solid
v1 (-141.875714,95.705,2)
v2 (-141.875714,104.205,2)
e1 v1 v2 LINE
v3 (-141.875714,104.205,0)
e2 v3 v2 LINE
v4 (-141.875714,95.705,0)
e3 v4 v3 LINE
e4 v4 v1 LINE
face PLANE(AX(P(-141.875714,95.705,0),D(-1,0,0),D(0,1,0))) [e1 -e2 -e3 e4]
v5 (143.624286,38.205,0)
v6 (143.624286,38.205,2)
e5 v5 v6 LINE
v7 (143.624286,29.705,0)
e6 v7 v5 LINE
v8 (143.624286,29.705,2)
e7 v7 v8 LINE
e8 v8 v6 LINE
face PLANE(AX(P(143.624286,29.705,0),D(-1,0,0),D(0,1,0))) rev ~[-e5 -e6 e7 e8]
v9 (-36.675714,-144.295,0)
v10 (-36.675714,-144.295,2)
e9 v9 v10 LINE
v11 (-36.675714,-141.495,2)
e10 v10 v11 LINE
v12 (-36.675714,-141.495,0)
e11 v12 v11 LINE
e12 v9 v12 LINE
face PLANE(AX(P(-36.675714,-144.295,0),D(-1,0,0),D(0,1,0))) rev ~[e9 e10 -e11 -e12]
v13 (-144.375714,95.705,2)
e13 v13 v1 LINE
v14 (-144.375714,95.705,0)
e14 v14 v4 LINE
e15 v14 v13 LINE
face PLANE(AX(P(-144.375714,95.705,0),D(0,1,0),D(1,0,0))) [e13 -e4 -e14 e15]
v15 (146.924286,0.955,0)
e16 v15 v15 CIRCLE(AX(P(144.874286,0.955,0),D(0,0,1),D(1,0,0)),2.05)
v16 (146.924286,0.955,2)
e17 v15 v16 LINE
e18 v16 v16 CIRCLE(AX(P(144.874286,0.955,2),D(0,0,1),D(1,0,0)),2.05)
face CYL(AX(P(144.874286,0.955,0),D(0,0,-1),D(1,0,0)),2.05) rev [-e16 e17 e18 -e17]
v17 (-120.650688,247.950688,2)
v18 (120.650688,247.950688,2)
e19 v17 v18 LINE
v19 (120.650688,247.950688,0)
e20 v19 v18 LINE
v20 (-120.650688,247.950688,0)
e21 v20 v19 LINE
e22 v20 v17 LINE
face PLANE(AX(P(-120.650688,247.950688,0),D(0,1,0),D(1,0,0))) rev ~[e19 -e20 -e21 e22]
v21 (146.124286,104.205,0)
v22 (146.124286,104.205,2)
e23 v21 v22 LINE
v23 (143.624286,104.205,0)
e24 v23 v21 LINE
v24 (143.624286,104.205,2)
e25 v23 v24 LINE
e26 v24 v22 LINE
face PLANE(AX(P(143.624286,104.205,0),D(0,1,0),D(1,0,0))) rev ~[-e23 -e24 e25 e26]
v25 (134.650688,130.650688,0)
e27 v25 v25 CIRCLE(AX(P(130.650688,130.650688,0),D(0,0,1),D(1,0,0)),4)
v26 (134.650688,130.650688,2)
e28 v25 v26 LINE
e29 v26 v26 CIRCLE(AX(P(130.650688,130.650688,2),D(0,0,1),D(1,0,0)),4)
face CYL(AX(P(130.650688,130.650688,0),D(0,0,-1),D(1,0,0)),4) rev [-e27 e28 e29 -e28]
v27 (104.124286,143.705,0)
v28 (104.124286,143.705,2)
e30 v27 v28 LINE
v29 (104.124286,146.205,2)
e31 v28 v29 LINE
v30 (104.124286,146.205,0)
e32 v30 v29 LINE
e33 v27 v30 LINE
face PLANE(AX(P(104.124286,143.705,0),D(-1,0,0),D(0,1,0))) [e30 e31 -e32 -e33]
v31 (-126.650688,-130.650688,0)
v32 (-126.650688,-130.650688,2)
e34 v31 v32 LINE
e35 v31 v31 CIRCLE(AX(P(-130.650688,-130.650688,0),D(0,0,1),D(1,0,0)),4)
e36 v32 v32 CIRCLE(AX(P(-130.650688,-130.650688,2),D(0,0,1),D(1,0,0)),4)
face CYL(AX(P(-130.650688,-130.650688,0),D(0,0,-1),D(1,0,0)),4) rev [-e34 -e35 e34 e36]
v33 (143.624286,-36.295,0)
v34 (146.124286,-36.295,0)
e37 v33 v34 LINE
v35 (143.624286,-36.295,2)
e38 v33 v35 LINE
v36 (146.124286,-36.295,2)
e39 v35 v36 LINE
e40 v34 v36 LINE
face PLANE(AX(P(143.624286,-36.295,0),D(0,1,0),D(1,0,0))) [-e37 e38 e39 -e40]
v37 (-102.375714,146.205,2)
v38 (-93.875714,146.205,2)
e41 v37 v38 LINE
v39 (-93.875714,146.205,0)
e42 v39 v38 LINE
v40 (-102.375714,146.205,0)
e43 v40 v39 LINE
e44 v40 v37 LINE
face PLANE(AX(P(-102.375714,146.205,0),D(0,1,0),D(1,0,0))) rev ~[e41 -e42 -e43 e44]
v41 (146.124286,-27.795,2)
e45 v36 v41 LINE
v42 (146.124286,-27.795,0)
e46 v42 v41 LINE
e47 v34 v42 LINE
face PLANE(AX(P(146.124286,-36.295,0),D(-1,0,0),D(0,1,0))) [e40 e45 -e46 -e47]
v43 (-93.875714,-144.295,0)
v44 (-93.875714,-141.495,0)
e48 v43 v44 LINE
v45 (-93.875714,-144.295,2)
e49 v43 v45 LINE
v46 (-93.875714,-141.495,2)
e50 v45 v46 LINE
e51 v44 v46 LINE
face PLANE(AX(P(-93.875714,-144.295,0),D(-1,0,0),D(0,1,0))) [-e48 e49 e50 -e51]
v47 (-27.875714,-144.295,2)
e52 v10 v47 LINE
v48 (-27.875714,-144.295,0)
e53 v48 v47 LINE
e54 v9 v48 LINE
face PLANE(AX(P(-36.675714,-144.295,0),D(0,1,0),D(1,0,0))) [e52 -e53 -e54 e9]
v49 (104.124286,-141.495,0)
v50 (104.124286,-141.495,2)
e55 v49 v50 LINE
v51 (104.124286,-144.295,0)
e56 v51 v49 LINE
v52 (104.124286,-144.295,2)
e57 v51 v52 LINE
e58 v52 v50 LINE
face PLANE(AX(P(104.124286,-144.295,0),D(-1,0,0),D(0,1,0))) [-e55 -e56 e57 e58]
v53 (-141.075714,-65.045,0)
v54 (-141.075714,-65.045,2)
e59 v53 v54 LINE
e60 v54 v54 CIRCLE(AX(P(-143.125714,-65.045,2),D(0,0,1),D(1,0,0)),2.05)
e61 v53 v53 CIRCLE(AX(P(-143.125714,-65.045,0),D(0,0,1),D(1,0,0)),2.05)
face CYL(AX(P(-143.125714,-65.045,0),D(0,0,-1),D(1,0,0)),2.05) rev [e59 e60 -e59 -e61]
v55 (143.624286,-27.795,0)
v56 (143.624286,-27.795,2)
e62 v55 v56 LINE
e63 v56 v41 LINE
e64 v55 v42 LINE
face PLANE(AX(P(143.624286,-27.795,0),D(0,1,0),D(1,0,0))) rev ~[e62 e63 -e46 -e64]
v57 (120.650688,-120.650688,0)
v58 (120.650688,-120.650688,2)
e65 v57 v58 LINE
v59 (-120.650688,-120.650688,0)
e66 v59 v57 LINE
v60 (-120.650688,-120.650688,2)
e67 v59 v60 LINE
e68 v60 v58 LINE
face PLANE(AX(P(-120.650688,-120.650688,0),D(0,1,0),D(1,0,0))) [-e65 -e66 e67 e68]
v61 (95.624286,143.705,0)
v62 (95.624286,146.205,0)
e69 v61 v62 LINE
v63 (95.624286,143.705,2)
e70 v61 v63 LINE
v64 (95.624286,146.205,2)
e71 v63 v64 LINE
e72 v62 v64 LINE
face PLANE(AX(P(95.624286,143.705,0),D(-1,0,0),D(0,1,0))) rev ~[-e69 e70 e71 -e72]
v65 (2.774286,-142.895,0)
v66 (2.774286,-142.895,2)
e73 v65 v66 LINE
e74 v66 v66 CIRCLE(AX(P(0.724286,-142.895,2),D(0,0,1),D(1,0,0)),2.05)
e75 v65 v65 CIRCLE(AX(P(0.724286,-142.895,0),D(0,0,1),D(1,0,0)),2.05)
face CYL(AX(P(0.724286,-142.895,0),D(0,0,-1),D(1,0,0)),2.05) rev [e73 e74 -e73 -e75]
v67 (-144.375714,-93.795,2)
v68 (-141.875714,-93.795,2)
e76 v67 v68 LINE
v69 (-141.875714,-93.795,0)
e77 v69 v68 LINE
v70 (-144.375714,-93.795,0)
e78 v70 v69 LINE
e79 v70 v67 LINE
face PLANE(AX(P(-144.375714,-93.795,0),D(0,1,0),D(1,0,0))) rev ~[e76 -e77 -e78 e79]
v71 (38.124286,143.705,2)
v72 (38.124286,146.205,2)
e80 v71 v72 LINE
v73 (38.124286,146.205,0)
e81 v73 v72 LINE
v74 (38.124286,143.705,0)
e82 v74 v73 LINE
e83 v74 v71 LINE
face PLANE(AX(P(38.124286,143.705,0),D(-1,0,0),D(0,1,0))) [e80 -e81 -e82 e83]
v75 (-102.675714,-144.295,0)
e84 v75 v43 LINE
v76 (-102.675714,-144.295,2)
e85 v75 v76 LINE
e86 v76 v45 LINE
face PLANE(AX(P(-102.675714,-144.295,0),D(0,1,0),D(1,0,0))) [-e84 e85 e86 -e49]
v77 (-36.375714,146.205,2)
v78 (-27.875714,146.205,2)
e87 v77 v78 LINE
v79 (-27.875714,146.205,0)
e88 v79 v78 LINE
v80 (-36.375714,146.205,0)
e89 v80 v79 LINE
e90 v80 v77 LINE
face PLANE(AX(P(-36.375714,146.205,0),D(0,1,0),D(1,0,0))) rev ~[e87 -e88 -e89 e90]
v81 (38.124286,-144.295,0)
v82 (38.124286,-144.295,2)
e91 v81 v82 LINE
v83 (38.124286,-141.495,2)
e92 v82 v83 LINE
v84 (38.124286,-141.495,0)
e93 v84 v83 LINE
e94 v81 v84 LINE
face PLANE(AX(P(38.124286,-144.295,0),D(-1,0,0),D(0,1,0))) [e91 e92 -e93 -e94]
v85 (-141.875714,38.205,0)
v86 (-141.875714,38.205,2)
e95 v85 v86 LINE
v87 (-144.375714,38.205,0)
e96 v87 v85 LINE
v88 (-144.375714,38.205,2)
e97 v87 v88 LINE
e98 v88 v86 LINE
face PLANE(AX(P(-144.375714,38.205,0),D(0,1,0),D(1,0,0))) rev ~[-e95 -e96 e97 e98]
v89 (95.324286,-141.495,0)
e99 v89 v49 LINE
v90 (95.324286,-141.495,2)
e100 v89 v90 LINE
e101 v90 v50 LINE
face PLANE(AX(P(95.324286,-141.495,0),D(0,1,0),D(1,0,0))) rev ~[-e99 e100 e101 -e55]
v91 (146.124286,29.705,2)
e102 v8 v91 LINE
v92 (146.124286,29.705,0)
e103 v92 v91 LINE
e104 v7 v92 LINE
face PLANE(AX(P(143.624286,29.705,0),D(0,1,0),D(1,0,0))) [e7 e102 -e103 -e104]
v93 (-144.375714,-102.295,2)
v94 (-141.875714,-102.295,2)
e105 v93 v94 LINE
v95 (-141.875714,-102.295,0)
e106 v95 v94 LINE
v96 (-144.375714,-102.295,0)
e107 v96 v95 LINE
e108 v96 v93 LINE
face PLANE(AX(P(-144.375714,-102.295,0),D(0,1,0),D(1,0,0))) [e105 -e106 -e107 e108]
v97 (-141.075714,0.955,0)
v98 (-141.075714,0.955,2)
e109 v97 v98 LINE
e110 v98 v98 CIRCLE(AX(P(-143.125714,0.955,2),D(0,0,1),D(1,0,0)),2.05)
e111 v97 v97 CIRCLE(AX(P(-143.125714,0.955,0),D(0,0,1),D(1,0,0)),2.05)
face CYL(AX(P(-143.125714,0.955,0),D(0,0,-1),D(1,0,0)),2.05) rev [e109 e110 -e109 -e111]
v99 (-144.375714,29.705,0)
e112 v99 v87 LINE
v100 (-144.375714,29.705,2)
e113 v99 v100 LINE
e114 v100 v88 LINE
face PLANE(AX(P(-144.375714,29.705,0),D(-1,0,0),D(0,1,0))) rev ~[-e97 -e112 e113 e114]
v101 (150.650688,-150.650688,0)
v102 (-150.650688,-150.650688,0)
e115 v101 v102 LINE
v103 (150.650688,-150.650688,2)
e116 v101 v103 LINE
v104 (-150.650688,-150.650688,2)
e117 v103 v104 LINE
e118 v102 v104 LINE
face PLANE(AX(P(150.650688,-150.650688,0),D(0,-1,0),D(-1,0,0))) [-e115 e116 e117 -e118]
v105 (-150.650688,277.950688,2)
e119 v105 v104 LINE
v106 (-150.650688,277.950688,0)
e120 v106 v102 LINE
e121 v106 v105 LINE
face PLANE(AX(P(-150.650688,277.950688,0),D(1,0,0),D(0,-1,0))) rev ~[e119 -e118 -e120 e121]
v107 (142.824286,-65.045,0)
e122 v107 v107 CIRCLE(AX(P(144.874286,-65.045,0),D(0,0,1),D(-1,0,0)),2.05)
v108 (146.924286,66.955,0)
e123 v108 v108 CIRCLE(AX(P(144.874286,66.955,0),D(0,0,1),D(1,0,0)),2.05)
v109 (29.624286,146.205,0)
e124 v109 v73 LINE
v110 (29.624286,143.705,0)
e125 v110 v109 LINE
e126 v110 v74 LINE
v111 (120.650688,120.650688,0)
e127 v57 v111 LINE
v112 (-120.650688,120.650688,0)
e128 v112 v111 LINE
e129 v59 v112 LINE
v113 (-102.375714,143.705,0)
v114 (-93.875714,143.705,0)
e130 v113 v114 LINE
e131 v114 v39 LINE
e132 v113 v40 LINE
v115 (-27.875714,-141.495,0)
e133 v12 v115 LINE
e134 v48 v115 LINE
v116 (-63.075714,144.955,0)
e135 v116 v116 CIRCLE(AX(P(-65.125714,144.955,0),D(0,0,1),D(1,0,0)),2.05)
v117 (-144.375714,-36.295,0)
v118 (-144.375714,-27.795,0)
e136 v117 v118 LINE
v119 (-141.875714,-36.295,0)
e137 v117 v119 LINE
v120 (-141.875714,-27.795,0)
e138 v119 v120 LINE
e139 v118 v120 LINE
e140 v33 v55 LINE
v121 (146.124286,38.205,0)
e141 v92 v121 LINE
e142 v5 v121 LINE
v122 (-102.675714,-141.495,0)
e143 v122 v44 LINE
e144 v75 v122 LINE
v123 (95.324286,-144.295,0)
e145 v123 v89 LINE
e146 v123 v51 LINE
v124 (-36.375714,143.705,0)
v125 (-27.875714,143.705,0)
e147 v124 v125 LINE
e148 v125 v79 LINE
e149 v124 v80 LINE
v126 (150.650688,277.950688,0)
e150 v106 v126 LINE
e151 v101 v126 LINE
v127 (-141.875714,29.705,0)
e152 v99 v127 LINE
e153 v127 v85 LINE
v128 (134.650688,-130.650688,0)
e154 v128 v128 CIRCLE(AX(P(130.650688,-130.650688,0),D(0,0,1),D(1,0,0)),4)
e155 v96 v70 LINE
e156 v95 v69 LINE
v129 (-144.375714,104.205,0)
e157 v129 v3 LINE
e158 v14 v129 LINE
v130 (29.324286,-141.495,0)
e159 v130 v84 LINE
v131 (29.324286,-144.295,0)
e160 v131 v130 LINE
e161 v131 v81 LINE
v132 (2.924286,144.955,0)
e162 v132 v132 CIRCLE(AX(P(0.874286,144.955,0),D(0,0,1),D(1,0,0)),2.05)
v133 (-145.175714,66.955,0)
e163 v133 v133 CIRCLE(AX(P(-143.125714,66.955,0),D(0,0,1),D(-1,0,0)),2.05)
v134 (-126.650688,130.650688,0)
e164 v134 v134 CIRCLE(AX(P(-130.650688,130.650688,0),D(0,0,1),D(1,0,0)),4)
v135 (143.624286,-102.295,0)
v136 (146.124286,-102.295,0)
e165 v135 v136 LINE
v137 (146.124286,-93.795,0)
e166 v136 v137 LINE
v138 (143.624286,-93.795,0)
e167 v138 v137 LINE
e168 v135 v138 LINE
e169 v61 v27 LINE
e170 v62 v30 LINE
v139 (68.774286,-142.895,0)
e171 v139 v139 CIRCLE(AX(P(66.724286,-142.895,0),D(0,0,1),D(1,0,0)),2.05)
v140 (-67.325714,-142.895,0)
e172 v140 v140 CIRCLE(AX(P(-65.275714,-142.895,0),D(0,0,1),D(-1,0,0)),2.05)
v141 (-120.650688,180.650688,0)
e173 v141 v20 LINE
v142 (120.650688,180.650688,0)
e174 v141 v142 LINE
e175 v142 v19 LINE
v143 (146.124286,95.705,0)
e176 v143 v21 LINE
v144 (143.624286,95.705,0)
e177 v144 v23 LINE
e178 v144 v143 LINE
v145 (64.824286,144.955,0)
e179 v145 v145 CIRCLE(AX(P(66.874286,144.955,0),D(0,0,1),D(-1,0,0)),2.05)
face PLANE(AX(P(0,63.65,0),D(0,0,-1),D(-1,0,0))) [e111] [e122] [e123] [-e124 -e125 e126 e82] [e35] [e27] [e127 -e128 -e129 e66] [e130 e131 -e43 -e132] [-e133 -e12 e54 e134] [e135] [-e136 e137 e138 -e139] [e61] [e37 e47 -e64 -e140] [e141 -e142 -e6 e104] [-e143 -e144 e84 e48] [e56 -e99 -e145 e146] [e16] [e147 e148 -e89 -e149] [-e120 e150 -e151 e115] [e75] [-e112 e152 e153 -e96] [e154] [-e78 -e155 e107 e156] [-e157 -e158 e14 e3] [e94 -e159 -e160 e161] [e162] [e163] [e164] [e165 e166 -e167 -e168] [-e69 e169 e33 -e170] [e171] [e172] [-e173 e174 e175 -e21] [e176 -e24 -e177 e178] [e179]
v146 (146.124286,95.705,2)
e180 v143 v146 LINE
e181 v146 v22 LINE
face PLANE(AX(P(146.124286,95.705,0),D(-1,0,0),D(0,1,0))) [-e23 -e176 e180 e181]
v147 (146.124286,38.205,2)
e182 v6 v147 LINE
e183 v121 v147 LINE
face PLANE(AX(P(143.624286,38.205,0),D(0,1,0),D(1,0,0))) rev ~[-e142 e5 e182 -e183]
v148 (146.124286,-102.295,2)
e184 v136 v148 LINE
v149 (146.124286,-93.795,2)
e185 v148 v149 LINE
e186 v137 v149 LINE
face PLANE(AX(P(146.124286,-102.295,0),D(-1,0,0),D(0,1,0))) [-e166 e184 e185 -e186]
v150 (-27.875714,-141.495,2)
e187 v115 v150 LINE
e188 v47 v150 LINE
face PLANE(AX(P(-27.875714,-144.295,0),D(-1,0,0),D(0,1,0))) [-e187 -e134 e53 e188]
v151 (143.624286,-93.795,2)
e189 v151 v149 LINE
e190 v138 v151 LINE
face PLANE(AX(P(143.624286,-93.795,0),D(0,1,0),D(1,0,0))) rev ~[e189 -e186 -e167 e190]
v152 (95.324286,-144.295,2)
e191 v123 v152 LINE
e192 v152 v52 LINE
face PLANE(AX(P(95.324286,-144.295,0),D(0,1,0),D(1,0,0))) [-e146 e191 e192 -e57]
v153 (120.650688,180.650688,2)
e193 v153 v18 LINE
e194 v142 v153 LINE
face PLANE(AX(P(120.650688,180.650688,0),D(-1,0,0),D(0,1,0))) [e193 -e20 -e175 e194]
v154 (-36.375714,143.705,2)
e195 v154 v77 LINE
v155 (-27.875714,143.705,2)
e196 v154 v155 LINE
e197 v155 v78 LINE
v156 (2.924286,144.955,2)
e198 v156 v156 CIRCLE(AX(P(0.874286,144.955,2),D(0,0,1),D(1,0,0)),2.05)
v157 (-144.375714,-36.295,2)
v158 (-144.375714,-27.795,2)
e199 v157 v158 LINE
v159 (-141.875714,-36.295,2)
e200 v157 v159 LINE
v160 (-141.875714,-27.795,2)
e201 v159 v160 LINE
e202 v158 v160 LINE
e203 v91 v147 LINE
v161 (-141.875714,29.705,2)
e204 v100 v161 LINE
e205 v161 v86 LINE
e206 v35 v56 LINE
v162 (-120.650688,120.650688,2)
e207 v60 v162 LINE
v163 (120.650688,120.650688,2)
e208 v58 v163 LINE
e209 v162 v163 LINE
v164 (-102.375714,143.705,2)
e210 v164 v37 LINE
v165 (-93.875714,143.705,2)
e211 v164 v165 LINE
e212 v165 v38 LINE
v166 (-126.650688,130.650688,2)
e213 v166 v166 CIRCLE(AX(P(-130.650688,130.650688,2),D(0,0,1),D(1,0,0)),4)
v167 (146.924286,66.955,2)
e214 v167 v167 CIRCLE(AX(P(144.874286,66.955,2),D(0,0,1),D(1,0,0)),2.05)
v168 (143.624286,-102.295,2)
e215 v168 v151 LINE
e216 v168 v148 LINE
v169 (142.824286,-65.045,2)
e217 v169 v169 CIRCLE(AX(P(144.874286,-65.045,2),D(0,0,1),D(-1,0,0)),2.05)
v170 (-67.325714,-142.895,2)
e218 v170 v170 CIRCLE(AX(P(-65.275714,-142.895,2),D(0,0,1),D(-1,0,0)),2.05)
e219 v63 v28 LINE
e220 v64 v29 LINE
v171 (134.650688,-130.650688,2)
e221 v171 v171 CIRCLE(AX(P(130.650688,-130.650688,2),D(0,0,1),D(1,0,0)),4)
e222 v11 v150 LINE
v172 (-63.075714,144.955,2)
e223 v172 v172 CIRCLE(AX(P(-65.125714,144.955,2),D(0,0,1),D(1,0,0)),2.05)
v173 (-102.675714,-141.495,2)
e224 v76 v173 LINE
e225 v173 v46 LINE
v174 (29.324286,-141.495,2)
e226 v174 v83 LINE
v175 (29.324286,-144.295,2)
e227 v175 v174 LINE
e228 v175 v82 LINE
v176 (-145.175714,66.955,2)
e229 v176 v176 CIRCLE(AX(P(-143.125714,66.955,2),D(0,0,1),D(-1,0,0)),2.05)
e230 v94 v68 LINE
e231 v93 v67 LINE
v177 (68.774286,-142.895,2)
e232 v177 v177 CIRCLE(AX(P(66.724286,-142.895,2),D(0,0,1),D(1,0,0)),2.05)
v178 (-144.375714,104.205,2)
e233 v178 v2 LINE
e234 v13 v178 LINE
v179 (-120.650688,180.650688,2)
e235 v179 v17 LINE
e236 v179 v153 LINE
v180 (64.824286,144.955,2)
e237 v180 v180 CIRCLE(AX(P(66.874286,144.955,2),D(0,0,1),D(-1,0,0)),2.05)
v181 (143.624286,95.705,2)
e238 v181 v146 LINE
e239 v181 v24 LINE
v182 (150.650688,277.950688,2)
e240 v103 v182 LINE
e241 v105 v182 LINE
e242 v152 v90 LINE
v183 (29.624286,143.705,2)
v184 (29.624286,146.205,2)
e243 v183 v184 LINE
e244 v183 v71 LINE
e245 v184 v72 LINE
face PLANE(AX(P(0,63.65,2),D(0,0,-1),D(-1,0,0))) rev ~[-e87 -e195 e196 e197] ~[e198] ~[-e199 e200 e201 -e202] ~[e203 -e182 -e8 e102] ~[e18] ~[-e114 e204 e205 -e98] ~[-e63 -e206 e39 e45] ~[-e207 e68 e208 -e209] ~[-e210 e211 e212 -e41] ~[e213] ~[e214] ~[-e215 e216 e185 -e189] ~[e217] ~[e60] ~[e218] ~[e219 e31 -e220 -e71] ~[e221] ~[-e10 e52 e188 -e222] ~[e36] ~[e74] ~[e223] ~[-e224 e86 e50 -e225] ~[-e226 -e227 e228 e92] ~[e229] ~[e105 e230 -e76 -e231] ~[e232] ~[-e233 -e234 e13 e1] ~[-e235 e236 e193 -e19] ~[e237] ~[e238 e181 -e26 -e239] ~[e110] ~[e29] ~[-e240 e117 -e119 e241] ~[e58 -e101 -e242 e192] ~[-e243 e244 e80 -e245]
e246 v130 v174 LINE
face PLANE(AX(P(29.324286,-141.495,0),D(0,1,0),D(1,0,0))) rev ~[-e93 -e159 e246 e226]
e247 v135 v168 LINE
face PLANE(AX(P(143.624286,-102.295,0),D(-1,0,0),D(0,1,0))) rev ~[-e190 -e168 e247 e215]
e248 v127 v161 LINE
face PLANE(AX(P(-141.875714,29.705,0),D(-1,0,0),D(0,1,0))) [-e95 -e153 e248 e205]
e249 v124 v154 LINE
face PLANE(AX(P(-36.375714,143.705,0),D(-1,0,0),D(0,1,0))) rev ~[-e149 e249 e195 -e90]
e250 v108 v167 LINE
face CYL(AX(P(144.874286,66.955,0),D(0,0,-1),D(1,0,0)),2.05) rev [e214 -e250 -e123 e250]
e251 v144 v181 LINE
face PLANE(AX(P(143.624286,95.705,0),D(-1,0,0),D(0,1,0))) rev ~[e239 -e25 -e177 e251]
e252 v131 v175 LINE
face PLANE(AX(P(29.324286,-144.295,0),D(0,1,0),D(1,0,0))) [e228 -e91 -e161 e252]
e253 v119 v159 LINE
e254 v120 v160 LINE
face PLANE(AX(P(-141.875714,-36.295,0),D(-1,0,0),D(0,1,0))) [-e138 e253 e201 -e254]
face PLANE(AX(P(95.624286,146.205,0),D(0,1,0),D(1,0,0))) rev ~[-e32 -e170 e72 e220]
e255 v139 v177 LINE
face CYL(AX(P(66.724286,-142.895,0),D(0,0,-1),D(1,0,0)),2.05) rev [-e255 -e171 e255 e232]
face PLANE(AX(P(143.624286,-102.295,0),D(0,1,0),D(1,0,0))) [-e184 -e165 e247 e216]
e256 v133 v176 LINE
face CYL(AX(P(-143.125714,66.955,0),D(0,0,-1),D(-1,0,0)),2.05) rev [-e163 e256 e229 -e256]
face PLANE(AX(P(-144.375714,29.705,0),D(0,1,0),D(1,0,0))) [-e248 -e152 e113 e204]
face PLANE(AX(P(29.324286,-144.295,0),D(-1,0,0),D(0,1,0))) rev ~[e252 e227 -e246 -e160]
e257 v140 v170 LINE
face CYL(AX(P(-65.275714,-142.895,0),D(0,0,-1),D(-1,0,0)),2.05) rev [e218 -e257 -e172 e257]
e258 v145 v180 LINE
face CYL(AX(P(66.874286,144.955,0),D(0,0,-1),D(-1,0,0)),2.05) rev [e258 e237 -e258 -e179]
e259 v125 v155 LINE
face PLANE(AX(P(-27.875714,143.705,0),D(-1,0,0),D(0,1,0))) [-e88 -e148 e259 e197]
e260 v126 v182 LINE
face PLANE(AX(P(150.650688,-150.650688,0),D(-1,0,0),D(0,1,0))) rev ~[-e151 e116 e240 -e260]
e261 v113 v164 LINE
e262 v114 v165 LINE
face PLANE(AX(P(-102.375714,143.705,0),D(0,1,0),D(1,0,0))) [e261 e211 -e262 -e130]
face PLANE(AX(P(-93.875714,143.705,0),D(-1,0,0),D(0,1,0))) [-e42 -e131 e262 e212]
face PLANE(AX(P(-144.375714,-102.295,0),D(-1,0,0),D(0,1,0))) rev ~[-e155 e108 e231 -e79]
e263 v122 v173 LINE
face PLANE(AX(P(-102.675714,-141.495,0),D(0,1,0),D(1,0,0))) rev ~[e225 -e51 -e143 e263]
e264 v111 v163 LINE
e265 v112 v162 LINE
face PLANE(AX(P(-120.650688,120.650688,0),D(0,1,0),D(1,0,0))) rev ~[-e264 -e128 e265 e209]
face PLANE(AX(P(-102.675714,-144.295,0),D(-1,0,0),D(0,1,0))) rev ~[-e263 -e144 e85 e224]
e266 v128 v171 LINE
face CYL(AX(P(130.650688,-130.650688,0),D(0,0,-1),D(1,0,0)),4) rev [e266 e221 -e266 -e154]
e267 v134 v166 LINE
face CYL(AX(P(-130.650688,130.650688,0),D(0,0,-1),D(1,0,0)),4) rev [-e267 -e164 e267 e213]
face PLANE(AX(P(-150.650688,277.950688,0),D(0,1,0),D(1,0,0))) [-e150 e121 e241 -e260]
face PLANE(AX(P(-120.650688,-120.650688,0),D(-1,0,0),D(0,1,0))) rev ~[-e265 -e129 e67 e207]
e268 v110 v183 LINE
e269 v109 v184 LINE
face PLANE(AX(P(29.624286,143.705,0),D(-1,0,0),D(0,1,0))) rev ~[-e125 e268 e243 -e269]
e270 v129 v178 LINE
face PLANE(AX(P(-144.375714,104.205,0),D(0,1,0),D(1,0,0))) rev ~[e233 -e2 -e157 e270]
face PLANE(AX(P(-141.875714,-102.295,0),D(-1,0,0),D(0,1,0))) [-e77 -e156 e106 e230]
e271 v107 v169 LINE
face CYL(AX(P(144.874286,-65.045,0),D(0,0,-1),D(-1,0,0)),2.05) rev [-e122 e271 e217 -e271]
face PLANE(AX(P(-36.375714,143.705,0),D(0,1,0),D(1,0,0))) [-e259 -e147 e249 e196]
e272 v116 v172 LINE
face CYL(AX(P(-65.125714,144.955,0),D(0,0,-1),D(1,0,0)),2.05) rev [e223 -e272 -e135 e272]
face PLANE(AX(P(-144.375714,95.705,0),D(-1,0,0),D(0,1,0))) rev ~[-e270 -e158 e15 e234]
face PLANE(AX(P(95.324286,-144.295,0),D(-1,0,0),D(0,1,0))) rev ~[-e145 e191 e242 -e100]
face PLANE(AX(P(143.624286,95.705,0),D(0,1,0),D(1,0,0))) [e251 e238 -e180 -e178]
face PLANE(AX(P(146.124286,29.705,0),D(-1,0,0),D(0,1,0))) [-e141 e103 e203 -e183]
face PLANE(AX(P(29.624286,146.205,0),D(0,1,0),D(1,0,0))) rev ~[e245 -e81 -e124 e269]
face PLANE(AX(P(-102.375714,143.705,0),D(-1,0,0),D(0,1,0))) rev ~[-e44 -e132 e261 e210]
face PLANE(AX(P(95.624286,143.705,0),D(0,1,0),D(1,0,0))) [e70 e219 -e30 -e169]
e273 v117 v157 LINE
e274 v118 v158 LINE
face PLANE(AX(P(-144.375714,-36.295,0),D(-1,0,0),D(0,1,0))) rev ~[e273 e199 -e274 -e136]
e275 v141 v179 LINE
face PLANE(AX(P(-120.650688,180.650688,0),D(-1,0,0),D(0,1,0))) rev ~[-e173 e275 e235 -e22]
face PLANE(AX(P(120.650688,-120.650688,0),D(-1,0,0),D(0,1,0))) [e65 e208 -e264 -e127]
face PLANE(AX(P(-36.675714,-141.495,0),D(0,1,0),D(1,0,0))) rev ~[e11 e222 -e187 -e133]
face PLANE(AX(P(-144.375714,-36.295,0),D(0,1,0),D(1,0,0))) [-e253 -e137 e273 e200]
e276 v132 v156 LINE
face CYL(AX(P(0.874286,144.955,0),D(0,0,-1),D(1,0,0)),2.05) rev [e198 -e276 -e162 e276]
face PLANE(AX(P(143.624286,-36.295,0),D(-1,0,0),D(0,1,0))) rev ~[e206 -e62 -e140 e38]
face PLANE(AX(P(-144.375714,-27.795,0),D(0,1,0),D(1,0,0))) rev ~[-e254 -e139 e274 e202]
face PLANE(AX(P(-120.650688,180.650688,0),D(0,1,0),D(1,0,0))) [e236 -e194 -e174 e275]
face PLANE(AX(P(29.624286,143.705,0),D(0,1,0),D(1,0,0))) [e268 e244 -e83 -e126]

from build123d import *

# Parameters (mm, degrees)
SKETCH_1_R      = 2.05
SKETCH_1_R_2    = 4
SKETCH_1_W      = 8.8
SKETCH_1_H      = 2.8
SKETCH_1_W_2    = 2.5
SKETCH_1_H_2    = 8.5
SKETCH_1_W_3    = 8.5
SKETCH_1_H_3    = 2.5
SKETCH_1_W_4    = 241.301375666
SKETCH_1_H_4    = 241.301375666
SKETCH_1_H_5    = 67.3
EXTRUDE_1_DEPTH = 2


with BuildPart() as part:
    # 草图1 → 凸台-拉伸1 (new body)
    with BuildSketch(Plane.XY):
        Polygon((150.650687833, -150.650687833), (-150.650687833, -150.650687833), (-150.650687833, 150.650687833), (-150.650687833, 277.950687833), (150.650687833, 277.950687833), (150.650687833, 150.650687833), align=None)
        with Locations((0.724285714, -142.895)):
            Circle(SKETCH_1_R, mode=Mode.SUBTRACT)
        with Locations((66.724285714, -142.895)):
            Circle(SKETCH_1_R, mode=Mode.SUBTRACT)
        with Locations(Location((-65.275714286, -142.895, 0), (0, 0, 180))):
            Circle(SKETCH_1_R, mode=Mode.SUBTRACT)
        with Locations(Location((-143.125714286, 66.955, 0), (0, 0, 180))):
            Circle(SKETCH_1_R, mode=Mode.SUBTRACT)
        with Locations((-143.125714286, 0.955)):
            Circle(SKETCH_1_R, mode=Mode.SUBTRACT)
        with Locations((-143.125714286, -65.045)):
            Circle(SKETCH_1_R, mode=Mode.SUBTRACT)
        with Locations(Location((66.874285714, 144.955, 0), (0, 0, 180))):
            Circle(SKETCH_1_R, mode=Mode.SUBTRACT)
        with Locations((0.874285714, 144.955)):
            Circle(SKETCH_1_R, mode=Mode.SUBTRACT)
        with Locations((-65.125714286, 144.955)):
            Circle(SKETCH_1_R, mode=Mode.SUBTRACT)
        with Locations(Location((144.874285714, -65.045, 0), (0, 0, 180))):
            Circle(SKETCH_1_R, mode=Mode.SUBTRACT)
        with Locations((144.874285714, 0.955)):
            Circle(SKETCH_1_R, mode=Mode.SUBTRACT)
        with Locations((144.874285714, 66.955)):
            Circle(SKETCH_1_R, mode=Mode.SUBTRACT)
        with Locations((-130.650687833, -130.650687833)):
            Circle(SKETCH_1_R_2, mode=Mode.SUBTRACT)
        with Locations((-130.650687833, 130.650687833)):
            Circle(SKETCH_1_R_2, mode=Mode.SUBTRACT)
        with Locations((130.650687833, 130.650687833)):
            Circle(SKETCH_1_R_2, mode=Mode.SUBTRACT)
        with Locations((130.650687833, -130.650687833)):
            Circle(SKETCH_1_R_2, mode=Mode.SUBTRACT)
        with Locations((99.724285714, -142.895)):
            Rectangle(SKETCH_1_W, SKETCH_1_H, mode=Mode.SUBTRACT)
        with Locations((33.724285714, -142.895)):
            Rectangle(SKETCH_1_W, SKETCH_1_H, mode=Mode.SUBTRACT)
        with Locations((-32.275714286, -142.895)):
            Rectangle(SKETCH_1_W, SKETCH_1_H, mode=Mode.SUBTRACT)
        with Locations((-98.275714286, -142.895)):
            Rectangle(SKETCH_1_W, SKETCH_1_H, mode=Mode.SUBTRACT)
        with Locations((-143.125714286, 99.955)):
            Rectangle(SKETCH_1_W_2, SKETCH_1_H_2, mode=Mode.SUBTRACT)
        with Locations((-143.125714286, 33.955)):
            Rectangle(SKETCH_1_W_2, SKETCH_1_H_2, mode=Mode.SUBTRACT)
        with Locations((-143.125714286, -32.045)):
            Rectangle(SKETCH_1_W_2, SKETCH_1_H_2, mode=Mode.SUBTRACT)
        with Locations((-143.125714286, -98.045)):
            Rectangle(SKETCH_1_W_2, SKETCH_1_H_2, mode=Mode.SUBTRACT)
        with Locations((99.874285714, 144.955)):
            Rectangle(SKETCH_1_W_3, SKETCH_1_H_3, mode=Mode.SUBTRACT)
        with Locations((33.874285714, 144.955)):
            Rectangle(SKETCH_1_W_3, SKETCH_1_H_3, mode=Mode.SUBTRACT)
        with Locations((-32.125714286, 144.955)):
            Rectangle(SKETCH_1_W_3, SKETCH_1_H_3, mode=Mode.SUBTRACT)
        with Locations((-98.125714286, 144.955)):
            Rectangle(SKETCH_1_W_3, SKETCH_1_H_3, mode=Mode.SUBTRACT)
        with Locations((144.874285714, -98.045)):
            Rectangle(SKETCH_1_W_2, SKETCH_1_H_2, mode=Mode.SUBTRACT)
        with Locations((144.874285714, -32.045)):
            Rectangle(SKETCH_1_W_2, SKETCH_1_H_2, mode=Mode.SUBTRACT)
        with Locations((144.874285714, 33.955)):
            Rectangle(SKETCH_1_W_2, SKETCH_1_H_2, mode=Mode.SUBTRACT)
        with Locations((144.874285714, 99.955)):
            Rectangle(SKETCH_1_W_2, SKETCH_1_H_2, mode=Mode.SUBTRACT)
        Rectangle(SKETCH_1_W_4, SKETCH_1_H_4, mode=Mode.SUBTRACT)
        with Locations((0, 214.300687833)):
            Rectangle(SKETCH_1_W_4, SKETCH_1_H_5, mode=Mode.SUBTRACT)
    extrude(amount=EXTRUDE_1_DEPTH)


solid = part.part
